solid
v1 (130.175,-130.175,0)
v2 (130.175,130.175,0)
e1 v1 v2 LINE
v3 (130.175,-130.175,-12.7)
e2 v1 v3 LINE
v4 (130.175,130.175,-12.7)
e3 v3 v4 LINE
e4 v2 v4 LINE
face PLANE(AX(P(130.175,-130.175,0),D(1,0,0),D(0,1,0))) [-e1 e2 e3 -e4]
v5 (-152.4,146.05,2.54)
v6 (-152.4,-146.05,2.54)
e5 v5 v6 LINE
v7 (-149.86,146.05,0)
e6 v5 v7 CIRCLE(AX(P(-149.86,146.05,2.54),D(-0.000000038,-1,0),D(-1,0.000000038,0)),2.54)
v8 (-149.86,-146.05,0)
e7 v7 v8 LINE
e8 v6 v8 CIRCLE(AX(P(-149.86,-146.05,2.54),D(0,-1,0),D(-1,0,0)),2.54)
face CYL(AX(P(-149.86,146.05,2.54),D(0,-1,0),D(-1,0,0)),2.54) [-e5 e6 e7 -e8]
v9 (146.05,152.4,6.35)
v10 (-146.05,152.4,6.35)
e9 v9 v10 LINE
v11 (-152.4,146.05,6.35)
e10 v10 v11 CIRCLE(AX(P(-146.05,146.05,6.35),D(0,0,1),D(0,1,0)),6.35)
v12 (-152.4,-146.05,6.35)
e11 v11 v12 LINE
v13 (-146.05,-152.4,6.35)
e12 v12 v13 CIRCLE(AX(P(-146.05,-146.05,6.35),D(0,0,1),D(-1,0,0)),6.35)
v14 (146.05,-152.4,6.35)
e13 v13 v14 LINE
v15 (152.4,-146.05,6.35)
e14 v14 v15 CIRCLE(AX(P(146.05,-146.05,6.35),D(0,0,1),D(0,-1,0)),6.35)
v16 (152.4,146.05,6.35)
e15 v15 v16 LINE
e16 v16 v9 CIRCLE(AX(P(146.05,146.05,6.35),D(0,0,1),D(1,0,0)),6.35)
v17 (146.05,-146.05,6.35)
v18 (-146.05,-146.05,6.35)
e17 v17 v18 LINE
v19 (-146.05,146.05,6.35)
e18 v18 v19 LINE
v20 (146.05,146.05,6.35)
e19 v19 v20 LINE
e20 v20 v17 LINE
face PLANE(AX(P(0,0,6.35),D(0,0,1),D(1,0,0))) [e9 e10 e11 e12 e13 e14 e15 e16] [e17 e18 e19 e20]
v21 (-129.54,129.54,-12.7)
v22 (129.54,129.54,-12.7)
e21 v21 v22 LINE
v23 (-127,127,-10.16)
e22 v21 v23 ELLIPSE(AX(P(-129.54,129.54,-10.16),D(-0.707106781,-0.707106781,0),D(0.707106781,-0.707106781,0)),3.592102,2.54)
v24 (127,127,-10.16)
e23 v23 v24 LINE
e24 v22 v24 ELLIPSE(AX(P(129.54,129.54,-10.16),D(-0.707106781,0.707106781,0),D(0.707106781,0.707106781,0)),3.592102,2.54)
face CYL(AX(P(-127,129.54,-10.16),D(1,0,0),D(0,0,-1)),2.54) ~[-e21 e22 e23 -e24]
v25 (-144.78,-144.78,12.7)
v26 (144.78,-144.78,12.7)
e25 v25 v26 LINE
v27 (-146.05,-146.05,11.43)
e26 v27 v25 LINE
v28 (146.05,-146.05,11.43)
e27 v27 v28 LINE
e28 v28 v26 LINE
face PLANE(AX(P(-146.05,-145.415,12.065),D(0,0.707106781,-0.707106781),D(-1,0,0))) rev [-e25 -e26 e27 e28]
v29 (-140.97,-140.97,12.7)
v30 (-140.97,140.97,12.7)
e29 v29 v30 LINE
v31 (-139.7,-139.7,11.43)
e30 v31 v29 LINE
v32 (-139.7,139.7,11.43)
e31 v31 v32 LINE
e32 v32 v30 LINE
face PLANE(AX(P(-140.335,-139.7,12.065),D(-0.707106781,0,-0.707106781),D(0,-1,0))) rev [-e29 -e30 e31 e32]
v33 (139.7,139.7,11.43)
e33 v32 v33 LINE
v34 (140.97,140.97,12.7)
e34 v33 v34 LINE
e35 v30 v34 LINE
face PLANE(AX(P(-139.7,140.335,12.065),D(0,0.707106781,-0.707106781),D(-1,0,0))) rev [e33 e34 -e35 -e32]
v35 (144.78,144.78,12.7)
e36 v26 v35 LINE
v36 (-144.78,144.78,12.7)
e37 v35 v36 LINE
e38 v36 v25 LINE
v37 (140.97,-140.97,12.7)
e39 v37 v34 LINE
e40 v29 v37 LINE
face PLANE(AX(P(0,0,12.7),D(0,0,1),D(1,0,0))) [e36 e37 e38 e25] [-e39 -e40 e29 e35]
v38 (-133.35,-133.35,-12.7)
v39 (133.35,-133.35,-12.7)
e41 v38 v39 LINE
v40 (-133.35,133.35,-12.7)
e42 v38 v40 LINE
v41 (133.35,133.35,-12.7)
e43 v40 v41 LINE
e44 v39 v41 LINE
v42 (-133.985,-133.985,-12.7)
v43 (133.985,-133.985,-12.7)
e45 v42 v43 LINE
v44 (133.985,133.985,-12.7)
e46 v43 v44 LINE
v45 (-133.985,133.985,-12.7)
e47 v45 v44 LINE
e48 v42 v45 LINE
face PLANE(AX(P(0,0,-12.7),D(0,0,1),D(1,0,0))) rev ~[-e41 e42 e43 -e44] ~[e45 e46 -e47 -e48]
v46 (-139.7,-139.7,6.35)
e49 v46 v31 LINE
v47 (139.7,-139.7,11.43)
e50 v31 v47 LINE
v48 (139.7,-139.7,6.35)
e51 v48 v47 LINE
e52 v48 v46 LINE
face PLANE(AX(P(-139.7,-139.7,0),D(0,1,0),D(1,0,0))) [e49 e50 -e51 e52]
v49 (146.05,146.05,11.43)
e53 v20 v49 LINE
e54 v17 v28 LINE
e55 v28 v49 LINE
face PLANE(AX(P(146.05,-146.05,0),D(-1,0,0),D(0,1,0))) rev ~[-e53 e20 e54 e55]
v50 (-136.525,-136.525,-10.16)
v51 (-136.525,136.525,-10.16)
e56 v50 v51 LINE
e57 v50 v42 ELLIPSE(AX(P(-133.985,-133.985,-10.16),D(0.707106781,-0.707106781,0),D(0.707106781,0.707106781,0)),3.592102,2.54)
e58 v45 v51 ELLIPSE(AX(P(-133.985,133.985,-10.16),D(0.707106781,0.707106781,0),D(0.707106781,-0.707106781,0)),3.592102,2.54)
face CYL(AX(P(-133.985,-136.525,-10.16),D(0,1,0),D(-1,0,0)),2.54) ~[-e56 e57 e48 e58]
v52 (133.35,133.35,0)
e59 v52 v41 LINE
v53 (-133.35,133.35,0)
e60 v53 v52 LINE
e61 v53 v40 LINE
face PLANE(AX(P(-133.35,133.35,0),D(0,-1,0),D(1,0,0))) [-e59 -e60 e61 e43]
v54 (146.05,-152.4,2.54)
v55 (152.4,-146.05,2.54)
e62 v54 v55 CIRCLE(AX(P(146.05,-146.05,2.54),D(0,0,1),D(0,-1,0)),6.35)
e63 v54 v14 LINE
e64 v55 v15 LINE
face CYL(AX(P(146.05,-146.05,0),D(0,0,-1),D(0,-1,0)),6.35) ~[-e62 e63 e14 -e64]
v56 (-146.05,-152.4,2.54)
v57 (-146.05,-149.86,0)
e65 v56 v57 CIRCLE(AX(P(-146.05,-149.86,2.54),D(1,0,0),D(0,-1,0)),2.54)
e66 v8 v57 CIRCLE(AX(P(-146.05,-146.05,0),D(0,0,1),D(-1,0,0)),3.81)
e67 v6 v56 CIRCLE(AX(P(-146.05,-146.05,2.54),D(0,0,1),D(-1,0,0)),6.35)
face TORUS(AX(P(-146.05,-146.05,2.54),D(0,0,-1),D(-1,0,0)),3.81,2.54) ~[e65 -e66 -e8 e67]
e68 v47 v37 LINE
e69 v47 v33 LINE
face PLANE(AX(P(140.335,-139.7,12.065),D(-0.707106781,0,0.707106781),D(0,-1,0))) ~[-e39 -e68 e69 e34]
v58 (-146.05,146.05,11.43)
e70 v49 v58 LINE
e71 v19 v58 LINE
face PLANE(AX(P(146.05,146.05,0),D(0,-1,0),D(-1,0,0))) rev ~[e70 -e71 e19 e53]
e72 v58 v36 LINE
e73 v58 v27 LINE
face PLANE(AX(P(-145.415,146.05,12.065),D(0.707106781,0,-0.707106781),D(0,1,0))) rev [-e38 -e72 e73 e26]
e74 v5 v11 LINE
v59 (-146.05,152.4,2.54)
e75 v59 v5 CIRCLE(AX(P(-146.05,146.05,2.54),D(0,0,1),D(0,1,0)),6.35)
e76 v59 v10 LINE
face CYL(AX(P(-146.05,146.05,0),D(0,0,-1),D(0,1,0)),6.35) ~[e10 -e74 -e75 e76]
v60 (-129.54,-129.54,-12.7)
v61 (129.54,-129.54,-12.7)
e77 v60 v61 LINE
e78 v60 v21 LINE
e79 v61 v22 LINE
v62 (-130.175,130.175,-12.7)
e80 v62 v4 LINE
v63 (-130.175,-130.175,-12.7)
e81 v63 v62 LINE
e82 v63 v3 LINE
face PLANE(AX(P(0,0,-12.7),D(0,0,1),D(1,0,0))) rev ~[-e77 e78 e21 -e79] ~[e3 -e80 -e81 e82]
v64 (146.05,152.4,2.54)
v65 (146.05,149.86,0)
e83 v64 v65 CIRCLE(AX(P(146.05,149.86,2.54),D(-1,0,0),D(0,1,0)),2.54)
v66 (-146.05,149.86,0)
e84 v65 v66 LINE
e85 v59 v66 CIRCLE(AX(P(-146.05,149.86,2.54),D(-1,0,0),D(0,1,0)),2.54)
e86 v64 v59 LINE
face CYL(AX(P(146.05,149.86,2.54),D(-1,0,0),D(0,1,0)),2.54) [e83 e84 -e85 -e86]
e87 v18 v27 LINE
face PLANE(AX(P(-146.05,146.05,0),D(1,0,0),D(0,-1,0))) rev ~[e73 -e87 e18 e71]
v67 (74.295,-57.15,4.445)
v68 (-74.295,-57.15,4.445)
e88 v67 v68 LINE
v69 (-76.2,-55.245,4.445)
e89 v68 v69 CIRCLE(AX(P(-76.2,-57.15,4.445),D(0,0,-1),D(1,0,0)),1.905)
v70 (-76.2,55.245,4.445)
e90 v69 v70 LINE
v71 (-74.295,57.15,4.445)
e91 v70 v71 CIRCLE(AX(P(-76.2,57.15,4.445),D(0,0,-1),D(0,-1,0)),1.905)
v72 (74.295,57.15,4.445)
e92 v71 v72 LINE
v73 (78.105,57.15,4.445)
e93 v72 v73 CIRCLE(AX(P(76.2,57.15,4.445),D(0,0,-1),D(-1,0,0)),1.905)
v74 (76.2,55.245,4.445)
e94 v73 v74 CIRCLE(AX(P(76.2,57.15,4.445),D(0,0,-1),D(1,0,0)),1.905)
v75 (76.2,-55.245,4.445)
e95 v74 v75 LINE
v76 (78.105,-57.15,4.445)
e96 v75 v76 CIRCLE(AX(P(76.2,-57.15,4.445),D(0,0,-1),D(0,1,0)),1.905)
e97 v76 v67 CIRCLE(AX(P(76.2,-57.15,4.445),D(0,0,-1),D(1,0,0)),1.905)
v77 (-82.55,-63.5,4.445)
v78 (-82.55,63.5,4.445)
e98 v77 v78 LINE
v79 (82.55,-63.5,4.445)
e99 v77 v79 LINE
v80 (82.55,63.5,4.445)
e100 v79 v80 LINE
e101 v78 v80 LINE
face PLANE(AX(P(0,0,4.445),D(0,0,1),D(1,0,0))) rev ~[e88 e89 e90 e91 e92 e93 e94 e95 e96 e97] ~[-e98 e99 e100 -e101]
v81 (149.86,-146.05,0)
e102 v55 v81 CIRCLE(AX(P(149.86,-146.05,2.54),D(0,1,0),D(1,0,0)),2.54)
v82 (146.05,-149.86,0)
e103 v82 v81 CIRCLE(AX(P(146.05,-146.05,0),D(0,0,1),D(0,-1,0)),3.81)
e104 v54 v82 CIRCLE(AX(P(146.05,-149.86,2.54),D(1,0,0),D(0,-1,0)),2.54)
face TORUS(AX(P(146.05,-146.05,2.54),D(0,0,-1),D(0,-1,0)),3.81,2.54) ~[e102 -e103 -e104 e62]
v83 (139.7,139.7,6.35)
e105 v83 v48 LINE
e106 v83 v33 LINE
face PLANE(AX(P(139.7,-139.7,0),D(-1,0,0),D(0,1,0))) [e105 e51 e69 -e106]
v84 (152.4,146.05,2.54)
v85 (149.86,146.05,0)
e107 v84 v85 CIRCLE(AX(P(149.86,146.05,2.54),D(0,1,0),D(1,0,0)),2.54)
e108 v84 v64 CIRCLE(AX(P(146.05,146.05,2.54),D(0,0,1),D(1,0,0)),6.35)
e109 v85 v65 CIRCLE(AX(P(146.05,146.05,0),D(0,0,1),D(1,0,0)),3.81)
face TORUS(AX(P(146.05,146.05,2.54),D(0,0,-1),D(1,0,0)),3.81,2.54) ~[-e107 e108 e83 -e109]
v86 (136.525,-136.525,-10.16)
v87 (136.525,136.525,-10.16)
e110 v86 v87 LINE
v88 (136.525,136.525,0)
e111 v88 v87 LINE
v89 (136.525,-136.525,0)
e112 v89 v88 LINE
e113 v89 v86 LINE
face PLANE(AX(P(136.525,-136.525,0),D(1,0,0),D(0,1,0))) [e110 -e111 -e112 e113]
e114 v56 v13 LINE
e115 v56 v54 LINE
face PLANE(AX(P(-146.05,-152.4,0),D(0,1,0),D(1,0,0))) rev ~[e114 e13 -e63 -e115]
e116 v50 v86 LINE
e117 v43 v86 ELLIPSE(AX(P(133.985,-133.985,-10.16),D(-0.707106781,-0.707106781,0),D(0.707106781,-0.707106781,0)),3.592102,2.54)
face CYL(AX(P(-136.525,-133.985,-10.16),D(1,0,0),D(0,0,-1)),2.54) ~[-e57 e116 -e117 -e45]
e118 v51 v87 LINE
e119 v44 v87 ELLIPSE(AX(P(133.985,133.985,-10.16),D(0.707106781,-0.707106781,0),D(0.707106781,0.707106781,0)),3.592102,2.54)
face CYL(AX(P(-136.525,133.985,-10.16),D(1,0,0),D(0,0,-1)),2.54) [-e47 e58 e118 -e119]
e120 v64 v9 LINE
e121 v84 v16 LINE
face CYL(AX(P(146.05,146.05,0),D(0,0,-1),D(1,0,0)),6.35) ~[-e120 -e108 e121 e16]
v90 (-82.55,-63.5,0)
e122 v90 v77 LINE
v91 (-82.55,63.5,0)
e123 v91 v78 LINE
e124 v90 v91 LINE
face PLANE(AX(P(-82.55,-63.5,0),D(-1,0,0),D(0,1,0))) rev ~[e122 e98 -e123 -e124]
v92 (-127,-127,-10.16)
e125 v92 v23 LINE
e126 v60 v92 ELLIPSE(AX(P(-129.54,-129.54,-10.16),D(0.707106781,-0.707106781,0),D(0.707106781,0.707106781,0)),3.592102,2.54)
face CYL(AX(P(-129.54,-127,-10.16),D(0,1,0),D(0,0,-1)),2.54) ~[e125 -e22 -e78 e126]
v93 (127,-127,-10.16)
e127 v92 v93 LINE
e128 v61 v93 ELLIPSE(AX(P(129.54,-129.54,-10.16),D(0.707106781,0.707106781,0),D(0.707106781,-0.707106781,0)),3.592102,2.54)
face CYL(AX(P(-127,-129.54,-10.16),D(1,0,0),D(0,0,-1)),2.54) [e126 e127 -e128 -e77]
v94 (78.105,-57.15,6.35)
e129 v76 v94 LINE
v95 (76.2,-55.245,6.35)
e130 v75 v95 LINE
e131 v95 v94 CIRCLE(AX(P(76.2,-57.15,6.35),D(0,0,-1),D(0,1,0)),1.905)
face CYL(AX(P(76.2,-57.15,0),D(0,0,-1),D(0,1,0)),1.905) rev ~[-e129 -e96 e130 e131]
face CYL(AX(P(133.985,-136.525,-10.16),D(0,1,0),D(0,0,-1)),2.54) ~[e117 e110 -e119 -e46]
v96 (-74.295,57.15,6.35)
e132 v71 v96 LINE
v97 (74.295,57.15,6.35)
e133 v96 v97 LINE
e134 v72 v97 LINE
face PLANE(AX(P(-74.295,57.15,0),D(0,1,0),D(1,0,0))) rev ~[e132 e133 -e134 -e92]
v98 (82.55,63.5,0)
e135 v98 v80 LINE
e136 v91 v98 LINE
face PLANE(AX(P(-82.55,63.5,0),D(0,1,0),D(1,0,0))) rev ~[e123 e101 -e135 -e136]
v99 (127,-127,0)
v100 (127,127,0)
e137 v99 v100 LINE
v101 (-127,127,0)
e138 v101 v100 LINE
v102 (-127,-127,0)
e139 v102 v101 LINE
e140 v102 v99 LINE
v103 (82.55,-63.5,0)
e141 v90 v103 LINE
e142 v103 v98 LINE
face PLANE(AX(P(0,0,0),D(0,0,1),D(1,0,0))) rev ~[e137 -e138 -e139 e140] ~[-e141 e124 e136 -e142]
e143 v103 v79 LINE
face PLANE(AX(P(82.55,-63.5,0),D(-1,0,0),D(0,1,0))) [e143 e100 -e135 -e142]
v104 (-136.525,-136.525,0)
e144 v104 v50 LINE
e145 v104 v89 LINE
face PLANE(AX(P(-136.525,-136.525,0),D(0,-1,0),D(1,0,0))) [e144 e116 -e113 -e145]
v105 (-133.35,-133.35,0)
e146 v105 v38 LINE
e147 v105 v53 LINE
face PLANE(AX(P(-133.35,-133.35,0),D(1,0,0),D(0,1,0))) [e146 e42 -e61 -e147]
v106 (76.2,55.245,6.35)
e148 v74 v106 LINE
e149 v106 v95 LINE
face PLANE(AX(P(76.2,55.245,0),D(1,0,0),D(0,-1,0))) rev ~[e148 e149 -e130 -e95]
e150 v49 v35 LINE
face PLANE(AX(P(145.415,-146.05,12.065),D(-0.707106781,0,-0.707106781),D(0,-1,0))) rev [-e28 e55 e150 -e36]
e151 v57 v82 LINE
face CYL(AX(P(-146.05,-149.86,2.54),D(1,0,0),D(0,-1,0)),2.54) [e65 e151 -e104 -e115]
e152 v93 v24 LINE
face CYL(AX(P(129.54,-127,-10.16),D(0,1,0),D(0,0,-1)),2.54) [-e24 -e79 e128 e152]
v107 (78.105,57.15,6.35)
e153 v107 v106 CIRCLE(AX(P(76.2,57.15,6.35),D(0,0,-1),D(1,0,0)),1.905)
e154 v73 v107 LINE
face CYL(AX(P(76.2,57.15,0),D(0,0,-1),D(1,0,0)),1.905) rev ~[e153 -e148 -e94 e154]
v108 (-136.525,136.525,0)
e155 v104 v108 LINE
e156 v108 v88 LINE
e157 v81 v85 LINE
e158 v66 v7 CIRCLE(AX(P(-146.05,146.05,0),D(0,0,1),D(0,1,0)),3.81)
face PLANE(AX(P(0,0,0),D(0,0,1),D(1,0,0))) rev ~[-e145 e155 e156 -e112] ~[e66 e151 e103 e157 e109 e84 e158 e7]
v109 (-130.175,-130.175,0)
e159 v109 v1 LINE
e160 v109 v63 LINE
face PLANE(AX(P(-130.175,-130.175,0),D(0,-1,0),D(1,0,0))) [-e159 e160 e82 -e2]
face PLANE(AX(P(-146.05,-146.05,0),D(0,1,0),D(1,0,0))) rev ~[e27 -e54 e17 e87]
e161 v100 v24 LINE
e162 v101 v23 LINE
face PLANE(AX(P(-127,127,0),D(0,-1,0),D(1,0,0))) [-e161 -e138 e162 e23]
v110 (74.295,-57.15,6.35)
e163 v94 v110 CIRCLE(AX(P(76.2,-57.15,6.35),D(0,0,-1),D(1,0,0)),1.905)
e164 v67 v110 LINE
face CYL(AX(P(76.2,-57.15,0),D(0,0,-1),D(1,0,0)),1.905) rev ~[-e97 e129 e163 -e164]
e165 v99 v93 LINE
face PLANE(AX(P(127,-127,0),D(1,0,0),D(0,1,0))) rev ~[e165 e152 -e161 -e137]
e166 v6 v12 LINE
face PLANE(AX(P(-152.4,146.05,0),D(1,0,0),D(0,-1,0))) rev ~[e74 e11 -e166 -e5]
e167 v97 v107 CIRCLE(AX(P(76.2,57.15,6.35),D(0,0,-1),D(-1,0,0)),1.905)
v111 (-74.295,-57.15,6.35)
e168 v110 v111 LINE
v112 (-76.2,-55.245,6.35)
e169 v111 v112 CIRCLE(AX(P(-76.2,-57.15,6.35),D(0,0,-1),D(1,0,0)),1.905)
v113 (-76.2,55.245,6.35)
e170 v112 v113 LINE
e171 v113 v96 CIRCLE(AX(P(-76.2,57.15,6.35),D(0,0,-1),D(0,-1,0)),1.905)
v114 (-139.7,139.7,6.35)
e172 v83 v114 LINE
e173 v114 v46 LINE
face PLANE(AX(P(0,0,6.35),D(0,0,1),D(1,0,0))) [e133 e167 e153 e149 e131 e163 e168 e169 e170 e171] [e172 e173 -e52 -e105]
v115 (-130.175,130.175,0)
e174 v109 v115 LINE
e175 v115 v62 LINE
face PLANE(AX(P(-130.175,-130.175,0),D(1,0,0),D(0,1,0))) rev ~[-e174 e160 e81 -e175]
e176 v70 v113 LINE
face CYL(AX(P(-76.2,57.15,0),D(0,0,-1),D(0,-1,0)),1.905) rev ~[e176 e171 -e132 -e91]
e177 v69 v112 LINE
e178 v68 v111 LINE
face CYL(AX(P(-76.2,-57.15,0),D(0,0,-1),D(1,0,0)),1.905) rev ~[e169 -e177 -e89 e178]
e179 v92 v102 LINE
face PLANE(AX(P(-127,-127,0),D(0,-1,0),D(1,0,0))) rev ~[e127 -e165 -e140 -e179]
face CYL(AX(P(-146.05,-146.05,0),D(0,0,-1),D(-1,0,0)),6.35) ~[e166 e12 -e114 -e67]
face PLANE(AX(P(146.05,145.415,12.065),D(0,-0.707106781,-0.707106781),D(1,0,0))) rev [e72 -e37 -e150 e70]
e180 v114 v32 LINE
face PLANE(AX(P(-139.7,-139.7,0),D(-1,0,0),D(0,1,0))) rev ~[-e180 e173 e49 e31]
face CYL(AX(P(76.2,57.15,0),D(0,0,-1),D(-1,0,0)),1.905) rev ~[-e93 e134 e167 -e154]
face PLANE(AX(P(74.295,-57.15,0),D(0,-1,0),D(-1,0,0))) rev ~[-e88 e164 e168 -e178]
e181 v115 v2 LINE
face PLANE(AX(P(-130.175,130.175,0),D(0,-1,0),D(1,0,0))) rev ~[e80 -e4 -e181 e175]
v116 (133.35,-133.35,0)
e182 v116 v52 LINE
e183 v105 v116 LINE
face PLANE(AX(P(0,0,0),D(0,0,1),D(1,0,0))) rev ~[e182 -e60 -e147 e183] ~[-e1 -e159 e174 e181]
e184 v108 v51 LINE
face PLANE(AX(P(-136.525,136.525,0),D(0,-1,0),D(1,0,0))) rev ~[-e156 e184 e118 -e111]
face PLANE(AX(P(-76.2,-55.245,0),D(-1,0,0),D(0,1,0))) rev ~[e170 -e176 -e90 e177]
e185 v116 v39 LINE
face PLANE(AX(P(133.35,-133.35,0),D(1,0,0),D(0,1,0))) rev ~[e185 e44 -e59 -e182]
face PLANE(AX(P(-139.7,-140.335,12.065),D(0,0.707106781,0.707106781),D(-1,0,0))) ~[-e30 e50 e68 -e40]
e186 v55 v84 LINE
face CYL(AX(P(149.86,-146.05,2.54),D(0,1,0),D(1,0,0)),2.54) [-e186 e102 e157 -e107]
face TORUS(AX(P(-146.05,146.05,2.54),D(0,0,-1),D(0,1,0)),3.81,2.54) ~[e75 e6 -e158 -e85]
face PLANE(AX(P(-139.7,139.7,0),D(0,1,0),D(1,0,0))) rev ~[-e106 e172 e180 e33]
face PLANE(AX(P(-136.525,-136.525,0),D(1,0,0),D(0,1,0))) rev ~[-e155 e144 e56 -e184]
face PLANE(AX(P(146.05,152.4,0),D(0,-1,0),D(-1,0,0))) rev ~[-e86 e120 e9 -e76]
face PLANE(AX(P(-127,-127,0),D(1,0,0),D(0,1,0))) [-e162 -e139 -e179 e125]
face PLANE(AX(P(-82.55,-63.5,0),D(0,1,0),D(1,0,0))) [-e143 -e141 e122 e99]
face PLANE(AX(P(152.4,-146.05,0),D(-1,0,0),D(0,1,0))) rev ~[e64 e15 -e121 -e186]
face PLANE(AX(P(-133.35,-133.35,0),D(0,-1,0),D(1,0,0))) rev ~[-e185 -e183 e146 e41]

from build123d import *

# Parameters (mm, degrees)
F0_W     = 279.4
F0_H     = 279.4
F0_W_2   = 273.05
F0_H_2   = 273.05
F0_W_3   = 266.7
F0_H_3   = 266.7
F0_W_4   = 260.35
F0_H_4   = 260.35
F0_W_5   = 254
F0_H_5   = 254
F1_DEPTH = 6.35
F2_DEPTH = 12.7
F3_SIZE  = 1.27
F4_R     = 2.54
F5_DEPTH = 12.7
F6_R     = 2.54
F0_W_6   = 165.1
F0_H_6   = 127
F7_DEPTH = 6.35
F8_DEPTH = 4.445


with BuildPart() as f1:
    # F0 (on Top) → F1 (new body)
    with BuildSketch(Plane.XY):
        with BuildLine():
            Line((-139.7, -146.05), (139.7, -146.05))
            ThreePointArc((139.7, -146.05), (141.5598719395, -141.5598719395), (146.05, -139.7))
            Line((146.05, -139.7), (146.05, 139.7))
            ThreePointArc((146.05, 139.7), (141.5598719395, 141.5598719395), (139.7, 146.05))
            Line((139.7, 146.05), (-139.7, 146.05))
            ThreePointArc((-139.7, 146.05), (-141.5598719395, 141.5598719395), (-146.05, 139.7))
            Line((-146.05, 139.7), (-146.05, -139.7))
            ThreePointArc((-146.05, -139.7), (-141.5598719395, -141.5598719395), (-139.7, -146.05))
        make_face()
        Rectangle(F0_W, F0_H, mode=Mode.SUBTRACT)
        Rectangle(F0_W, F0_H)
        Rectangle(F0_W_2, F0_H_2, mode=Mode.SUBTRACT)
        Rectangle(F0_W_2, F0_H_2)
        Rectangle(F0_W_3, F0_H_3, mode=Mode.SUBTRACT)
        Rectangle(F0_W_3, F0_H_3)
        Rectangle(F0_W_4, F0_H_4, mode=Mode.SUBTRACT)
        Rectangle(F0_W_4, F0_H_4)
        Rectangle(F0_W_5, F0_H_5, mode=Mode.SUBTRACT)
        with BuildLine():
            Line((-146.049999995, -152.4), (146.05, -152.4))
            ThreePointArc((146.05, -152.4), (141.5598719395, -150.5401280605), (139.7, -146.05))
            Line((139.7, -146.05), (-139.7, -146.05))
            ThreePointArc((-139.7, -146.05), (-141.5598719377, -150.5401280588), (-146.049999995, -152.4))
        make_face()
        with BuildLine():
            ThreePointArc((139.7, 146.05), (141.5598719395, 150.5401280605), (146.05, 152.4))
            Line((146.05, 152.4), (-146.0500000019, 152.4))
            ThreePointArc((-146.0500000019, 152.4), (-141.5598719401, 150.5401280612), (-139.7, 146.05))
            Line((-139.7, 146.05), (139.7, 146.05))
        make_face()
        with BuildLine():
            ThreePointArc((146.05, -139.7), (150.5401280605, -141.5598719395), (152.4, -146.05))
            Line((152.4, -146.05), (152.4, 146.05))
            ThreePointArc((152.4, 146.05), (150.5401280605, 141.5598719395), (146.05, 139.7))
            Line((146.05, 139.7), (146.05, -139.7))
        make_face()
        with BuildLine():
            Line((-152.4, 146.0500002439), (-152.4, -146.05))
            ThreePointArc((-152.4, -146.05), (-150.5401280605, -141.5598719395), (-146.05, -139.7))
            Line((-146.05, -139.7), (-146.05, 139.7))
            ThreePointArc((-146.05, 139.7), (-150.5401281468, 141.5598720257), (-152.4, 146.0500002439))
        make_face()
        with BuildLine():
            ThreePointArc((139.7, -146.05), (141.5598719395, -150.5401280605), (146.05, -152.4))
            ThreePointArc((146.05, -152.4), (150.5401280605, -150.5401280605), (152.4, -146.05))
            ThreePointArc((152.4, -146.05), (150.5401280605, -141.5598719395), (146.05, -139.7))
            Line((146.05, -139.7), (146.05, -146.05))
            Line((146.05, -146.05), (139.7, -146.05))
        make_face()
        with BuildLine():
            ThreePointArc((-152.4, -146.05), (-150.5401280588, -150.5401280623), (-146.049999995, -152.4))
            ThreePointArc((-146.049999995, -152.4), (-141.5598719377, -150.5401280588), (-139.7, -146.05))
            Line((-139.7, -146.05), (-146.05, -146.05))
            Line((-146.05, -146.05), (-146.05, -139.7))
            ThreePointArc((-146.05, -139.7), (-150.5401280605, -141.5598719395), (-152.4, -146.05))
        make_face()
        with BuildLine():
            ThreePointArc((146.05, 139.7), (150.5401280605, 141.5598719395), (152.4, 146.05))
            ThreePointArc((152.4, 146.05), (150.5401280605, 150.5401280605), (146.05, 152.4))
            ThreePointArc((146.05, 152.4), (141.5598719395, 150.5401280605), (139.7, 146.05))
            Line((139.7, 146.05), (146.05, 146.05))
            Line((146.05, 146.05), (146.05, 139.7))
        make_face()
        with BuildLine():
            ThreePointArc((-146.0500000019, 152.4), (-150.540127975, 150.5401281461), (-152.4, 146.0500002439))
            ThreePointArc((-152.4, 146.0500002439), (-150.5401281468, 141.5598720257), (-146.05, 139.7))
            Line((-146.05, 139.7), (-146.05, 146.05))
            Line((-146.05, 146.05), (-139.7, 146.05))
            ThreePointArc((-139.7, 146.05), (-141.5598719401, 150.5401280612), (-146.0500000019, 152.4))
        make_face()
        with BuildLine():
            Line((-146.05, -146.05), (-139.7, -146.05))
            ThreePointArc((-139.7, -146.05), (-141.5598719395, -141.5598719395), (-146.05, -139.7))
            Line((-146.05, -139.7), (-146.05, -146.05))
        make_face()
        with BuildLine():
            ThreePointArc((139.7, 146.05), (141.5598719395, 141.5598719395), (146.05, 139.7))
            Line((146.05, 139.7), (146.05, 146.05))
            Line((146.05, 146.05), (139.7, 146.05))
        make_face()
        with BuildLine():
            Line((-146.05, 146.05), (-146.05, 139.7))
            ThreePointArc((-146.05, 139.7), (-141.5598719395, 141.5598719395), (-139.7, 146.05))
            Line((-139.7, 146.05), (-146.05, 146.05))
        make_face()
        with BuildLine():
            ThreePointArc((146.05, -139.7), (141.5598719395, -141.5598719395), (139.7, -146.05))
            Line((139.7, -146.05), (146.05, -146.05))
            Line((146.05, -146.05), (146.05, -139.7))
        make_face()
    extrude(amount=F1_DEPTH)

    # F0 (on Top) → F2 (join)
    with BuildSketch(Plane.XY):
        with BuildLine():
            Line((-139.7, -146.05), (139.7, -146.05))
            ThreePointArc((139.7, -146.05), (141.5598719395, -141.5598719395), (146.05, -139.7))
            Line((146.05, -139.7), (146.05, 139.7))
            ThreePointArc((146.05, 139.7), (141.5598719395, 141.5598719395), (139.7, 146.05))
            Line((139.7, 146.05), (-139.7, 146.05))
            ThreePointArc((-139.7, 146.05), (-141.5598719395, 141.5598719395), (-146.05, 139.7))
            Line((-146.05, 139.7), (-146.05, -139.7))
            ThreePointArc((-146.05, -139.7), (-141.5598719395, -141.5598719395), (-139.7, -146.05))
        make_face()
        Rectangle(F0_W, F0_H, mode=Mode.SUBTRACT)
        with BuildLine():
            Line((-146.05, 146.05), (-146.05, 139.7))
            ThreePointArc((-146.05, 139.7), (-141.5598719395, 141.5598719395), (-139.7, 146.05))
            Line((-139.7, 146.05), (-146.05, 146.05))
        make_face()
        with BuildLine():
            Line((-146.05, -146.05), (-139.7, -146.05))
            ThreePointArc((-139.7, -146.05), (-141.5598719395, -141.5598719395), (-146.05, -139.7))
            Line((-146.05, -139.7), (-146.05, -146.05))
        make_face()
        with BuildLine():
            ThreePointArc((146.05, -139.7), (141.5598719395, -141.5598719395), (139.7, -146.05))
            Line((139.7, -146.05), (146.05, -146.05))
            Line((146.05, -146.05), (146.05, -139.7))
        make_face()
        with BuildLine():
            ThreePointArc((139.7, 146.05), (141.5598719395, 141.5598719395), (146.05, 139.7))
            Line((146.05, 139.7), (146.05, 146.05))
            Line((146.05, 146.05), (139.7, 146.05))
        make_face()
    extrude(amount=F2_DEPTH)

    # F3
    f3_edges = [f1.edges().sort_by_distance(p)[0] for p in [
        (146.05, 0, 12.7),
        (139.7, 0, 12.7),
        (0, 139.7, 12.7),
        (0, 146.05, 12.7),
        (-139.7, 0, 12.7),
        (-146.05, 0, 12.7),
        (0, -139.7, 12.7),
        (0, -146.05, 12.7),
    ]]
    chamfer(f3_edges, length=F3_SIZE)

    # F4
    f4_edges = [f1.edges().sort_by_distance(p)[0] for p in [
        (0, -152.4, 0),
        (-152.4, 0, 0),
        (-150.540128, -150.540128, 0),
        (152.4, 0, 0),
        (150.540128, -150.540128, 0),
        (0, 152.4, 0),
        (-150.540128, 150.540128, 0),
        (150.540128, 150.540128, 0),
    ]]
    fillet(f4_edges, radius=F4_R)

    # F0 (on Top) → F5 (join)
    with BuildSketch(Plane.XY):
        Rectangle(F0_W_2, F0_H_2)
        Rectangle(F0_W_3, F0_H_3, mode=Mode.SUBTRACT)
        Rectangle(F0_W_4, F0_H_4)
        Rectangle(F0_W_5, F0_H_5, mode=Mode.SUBTRACT)
    extrude(amount=-F5_DEPTH)

    # F6
    f6_edges = [f1.edges().sort_by_distance(p)[0] for p in [
        (0, 136.525, -12.7),
        (-136.525, 0, -12.7),
        (0, -136.525, -12.7),
        (136.525, 0, -12.7),
        (0, 127, -12.7),
        (-127, 0, -12.7),
        (0, -127, -12.7),
        (127, 0, -12.7),
    ]]
    fillet(f6_edges, radius=F6_R)

    # F0 (on Top) → F7 (join)
    with BuildSketch(Plane.XY):
        Rectangle(F0_W_5, F0_H_5)
        Rectangle(F0_W_6, F0_H_6, mode=Mode.SUBTRACT)
        Rectangle(F0_W_6, F0_H_6)
        with BuildLine():
            ThreePointArc((-76.2, 55.245), (-77.5470384182, 58.4970384182), (-74.295, 57.15))
            Line((-74.295, 57.15), (74.295, 57.15))
            ThreePointArc((74.295, 57.15), (76.2, 59.055), (78.105, 57.15))
            ThreePointArc((78.105, 57.15), (77.5470384182, 55.8029615818), (76.2, 55.245))
            Line((76.2, 55.245), (76.2, -55.245))
            ThreePointArc((76.2, -55.245), (77.5470384182, -55.8029615818), (78.105, -57.15))
            ThreePointArc((78.105, -57.15), (76.2, -59.055), (74.295, -57.15))
            Line((74.295, -57.15), (-74.295, -57.15))
            ThreePointArc((-74.295, -57.15), (-77.5470384182, -58.4970384182), (-76.2, -55.245))
            Line((-76.2, -55.245), (-76.2, 55.245))
        make_face(mode=Mode.SUBTRACT)
    extrude(amount=F7_DEPTH)

    # F0 (on Top) → F8 (cut)
    with BuildSketch(Plane.XY):
        Rectangle(F0_W_6, F0_H_6)
        with BuildLine():
            ThreePointArc((-76.2, 55.245), (-77.5470384182, 58.4970384182), (-74.295, 57.15))
            Line((-74.295, 57.15), (74.295, 57.15))
            ThreePointArc((74.295, 57.15), (76.2, 59.055), (78.105, 57.15))
            ThreePointArc((78.105, 57.15), (77.5470384182, 55.8029615818), (76.2, 55.245))
            Line((76.2, 55.245), (76.2, -55.245))
            ThreePointArc((76.2, -55.245), (77.5470384182, -55.8029615818), (78.105, -57.15))
            ThreePointArc((78.105, -57.15), (76.2, -59.055), (74.295, -57.15))
            Line((74.295, -57.15), (-74.295, -57.15))
            ThreePointArc((-74.295, -57.15), (-77.5470384182, -58.4970384182), (-76.2, -55.245))
            Line((-76.2, -55.245), (-76.2, 55.245))
        make_face(mode=Mode.SUBTRACT)
    extrude(amount=F8_DEPTH, mode=Mode.SUBTRACT)


solid = f1.part
